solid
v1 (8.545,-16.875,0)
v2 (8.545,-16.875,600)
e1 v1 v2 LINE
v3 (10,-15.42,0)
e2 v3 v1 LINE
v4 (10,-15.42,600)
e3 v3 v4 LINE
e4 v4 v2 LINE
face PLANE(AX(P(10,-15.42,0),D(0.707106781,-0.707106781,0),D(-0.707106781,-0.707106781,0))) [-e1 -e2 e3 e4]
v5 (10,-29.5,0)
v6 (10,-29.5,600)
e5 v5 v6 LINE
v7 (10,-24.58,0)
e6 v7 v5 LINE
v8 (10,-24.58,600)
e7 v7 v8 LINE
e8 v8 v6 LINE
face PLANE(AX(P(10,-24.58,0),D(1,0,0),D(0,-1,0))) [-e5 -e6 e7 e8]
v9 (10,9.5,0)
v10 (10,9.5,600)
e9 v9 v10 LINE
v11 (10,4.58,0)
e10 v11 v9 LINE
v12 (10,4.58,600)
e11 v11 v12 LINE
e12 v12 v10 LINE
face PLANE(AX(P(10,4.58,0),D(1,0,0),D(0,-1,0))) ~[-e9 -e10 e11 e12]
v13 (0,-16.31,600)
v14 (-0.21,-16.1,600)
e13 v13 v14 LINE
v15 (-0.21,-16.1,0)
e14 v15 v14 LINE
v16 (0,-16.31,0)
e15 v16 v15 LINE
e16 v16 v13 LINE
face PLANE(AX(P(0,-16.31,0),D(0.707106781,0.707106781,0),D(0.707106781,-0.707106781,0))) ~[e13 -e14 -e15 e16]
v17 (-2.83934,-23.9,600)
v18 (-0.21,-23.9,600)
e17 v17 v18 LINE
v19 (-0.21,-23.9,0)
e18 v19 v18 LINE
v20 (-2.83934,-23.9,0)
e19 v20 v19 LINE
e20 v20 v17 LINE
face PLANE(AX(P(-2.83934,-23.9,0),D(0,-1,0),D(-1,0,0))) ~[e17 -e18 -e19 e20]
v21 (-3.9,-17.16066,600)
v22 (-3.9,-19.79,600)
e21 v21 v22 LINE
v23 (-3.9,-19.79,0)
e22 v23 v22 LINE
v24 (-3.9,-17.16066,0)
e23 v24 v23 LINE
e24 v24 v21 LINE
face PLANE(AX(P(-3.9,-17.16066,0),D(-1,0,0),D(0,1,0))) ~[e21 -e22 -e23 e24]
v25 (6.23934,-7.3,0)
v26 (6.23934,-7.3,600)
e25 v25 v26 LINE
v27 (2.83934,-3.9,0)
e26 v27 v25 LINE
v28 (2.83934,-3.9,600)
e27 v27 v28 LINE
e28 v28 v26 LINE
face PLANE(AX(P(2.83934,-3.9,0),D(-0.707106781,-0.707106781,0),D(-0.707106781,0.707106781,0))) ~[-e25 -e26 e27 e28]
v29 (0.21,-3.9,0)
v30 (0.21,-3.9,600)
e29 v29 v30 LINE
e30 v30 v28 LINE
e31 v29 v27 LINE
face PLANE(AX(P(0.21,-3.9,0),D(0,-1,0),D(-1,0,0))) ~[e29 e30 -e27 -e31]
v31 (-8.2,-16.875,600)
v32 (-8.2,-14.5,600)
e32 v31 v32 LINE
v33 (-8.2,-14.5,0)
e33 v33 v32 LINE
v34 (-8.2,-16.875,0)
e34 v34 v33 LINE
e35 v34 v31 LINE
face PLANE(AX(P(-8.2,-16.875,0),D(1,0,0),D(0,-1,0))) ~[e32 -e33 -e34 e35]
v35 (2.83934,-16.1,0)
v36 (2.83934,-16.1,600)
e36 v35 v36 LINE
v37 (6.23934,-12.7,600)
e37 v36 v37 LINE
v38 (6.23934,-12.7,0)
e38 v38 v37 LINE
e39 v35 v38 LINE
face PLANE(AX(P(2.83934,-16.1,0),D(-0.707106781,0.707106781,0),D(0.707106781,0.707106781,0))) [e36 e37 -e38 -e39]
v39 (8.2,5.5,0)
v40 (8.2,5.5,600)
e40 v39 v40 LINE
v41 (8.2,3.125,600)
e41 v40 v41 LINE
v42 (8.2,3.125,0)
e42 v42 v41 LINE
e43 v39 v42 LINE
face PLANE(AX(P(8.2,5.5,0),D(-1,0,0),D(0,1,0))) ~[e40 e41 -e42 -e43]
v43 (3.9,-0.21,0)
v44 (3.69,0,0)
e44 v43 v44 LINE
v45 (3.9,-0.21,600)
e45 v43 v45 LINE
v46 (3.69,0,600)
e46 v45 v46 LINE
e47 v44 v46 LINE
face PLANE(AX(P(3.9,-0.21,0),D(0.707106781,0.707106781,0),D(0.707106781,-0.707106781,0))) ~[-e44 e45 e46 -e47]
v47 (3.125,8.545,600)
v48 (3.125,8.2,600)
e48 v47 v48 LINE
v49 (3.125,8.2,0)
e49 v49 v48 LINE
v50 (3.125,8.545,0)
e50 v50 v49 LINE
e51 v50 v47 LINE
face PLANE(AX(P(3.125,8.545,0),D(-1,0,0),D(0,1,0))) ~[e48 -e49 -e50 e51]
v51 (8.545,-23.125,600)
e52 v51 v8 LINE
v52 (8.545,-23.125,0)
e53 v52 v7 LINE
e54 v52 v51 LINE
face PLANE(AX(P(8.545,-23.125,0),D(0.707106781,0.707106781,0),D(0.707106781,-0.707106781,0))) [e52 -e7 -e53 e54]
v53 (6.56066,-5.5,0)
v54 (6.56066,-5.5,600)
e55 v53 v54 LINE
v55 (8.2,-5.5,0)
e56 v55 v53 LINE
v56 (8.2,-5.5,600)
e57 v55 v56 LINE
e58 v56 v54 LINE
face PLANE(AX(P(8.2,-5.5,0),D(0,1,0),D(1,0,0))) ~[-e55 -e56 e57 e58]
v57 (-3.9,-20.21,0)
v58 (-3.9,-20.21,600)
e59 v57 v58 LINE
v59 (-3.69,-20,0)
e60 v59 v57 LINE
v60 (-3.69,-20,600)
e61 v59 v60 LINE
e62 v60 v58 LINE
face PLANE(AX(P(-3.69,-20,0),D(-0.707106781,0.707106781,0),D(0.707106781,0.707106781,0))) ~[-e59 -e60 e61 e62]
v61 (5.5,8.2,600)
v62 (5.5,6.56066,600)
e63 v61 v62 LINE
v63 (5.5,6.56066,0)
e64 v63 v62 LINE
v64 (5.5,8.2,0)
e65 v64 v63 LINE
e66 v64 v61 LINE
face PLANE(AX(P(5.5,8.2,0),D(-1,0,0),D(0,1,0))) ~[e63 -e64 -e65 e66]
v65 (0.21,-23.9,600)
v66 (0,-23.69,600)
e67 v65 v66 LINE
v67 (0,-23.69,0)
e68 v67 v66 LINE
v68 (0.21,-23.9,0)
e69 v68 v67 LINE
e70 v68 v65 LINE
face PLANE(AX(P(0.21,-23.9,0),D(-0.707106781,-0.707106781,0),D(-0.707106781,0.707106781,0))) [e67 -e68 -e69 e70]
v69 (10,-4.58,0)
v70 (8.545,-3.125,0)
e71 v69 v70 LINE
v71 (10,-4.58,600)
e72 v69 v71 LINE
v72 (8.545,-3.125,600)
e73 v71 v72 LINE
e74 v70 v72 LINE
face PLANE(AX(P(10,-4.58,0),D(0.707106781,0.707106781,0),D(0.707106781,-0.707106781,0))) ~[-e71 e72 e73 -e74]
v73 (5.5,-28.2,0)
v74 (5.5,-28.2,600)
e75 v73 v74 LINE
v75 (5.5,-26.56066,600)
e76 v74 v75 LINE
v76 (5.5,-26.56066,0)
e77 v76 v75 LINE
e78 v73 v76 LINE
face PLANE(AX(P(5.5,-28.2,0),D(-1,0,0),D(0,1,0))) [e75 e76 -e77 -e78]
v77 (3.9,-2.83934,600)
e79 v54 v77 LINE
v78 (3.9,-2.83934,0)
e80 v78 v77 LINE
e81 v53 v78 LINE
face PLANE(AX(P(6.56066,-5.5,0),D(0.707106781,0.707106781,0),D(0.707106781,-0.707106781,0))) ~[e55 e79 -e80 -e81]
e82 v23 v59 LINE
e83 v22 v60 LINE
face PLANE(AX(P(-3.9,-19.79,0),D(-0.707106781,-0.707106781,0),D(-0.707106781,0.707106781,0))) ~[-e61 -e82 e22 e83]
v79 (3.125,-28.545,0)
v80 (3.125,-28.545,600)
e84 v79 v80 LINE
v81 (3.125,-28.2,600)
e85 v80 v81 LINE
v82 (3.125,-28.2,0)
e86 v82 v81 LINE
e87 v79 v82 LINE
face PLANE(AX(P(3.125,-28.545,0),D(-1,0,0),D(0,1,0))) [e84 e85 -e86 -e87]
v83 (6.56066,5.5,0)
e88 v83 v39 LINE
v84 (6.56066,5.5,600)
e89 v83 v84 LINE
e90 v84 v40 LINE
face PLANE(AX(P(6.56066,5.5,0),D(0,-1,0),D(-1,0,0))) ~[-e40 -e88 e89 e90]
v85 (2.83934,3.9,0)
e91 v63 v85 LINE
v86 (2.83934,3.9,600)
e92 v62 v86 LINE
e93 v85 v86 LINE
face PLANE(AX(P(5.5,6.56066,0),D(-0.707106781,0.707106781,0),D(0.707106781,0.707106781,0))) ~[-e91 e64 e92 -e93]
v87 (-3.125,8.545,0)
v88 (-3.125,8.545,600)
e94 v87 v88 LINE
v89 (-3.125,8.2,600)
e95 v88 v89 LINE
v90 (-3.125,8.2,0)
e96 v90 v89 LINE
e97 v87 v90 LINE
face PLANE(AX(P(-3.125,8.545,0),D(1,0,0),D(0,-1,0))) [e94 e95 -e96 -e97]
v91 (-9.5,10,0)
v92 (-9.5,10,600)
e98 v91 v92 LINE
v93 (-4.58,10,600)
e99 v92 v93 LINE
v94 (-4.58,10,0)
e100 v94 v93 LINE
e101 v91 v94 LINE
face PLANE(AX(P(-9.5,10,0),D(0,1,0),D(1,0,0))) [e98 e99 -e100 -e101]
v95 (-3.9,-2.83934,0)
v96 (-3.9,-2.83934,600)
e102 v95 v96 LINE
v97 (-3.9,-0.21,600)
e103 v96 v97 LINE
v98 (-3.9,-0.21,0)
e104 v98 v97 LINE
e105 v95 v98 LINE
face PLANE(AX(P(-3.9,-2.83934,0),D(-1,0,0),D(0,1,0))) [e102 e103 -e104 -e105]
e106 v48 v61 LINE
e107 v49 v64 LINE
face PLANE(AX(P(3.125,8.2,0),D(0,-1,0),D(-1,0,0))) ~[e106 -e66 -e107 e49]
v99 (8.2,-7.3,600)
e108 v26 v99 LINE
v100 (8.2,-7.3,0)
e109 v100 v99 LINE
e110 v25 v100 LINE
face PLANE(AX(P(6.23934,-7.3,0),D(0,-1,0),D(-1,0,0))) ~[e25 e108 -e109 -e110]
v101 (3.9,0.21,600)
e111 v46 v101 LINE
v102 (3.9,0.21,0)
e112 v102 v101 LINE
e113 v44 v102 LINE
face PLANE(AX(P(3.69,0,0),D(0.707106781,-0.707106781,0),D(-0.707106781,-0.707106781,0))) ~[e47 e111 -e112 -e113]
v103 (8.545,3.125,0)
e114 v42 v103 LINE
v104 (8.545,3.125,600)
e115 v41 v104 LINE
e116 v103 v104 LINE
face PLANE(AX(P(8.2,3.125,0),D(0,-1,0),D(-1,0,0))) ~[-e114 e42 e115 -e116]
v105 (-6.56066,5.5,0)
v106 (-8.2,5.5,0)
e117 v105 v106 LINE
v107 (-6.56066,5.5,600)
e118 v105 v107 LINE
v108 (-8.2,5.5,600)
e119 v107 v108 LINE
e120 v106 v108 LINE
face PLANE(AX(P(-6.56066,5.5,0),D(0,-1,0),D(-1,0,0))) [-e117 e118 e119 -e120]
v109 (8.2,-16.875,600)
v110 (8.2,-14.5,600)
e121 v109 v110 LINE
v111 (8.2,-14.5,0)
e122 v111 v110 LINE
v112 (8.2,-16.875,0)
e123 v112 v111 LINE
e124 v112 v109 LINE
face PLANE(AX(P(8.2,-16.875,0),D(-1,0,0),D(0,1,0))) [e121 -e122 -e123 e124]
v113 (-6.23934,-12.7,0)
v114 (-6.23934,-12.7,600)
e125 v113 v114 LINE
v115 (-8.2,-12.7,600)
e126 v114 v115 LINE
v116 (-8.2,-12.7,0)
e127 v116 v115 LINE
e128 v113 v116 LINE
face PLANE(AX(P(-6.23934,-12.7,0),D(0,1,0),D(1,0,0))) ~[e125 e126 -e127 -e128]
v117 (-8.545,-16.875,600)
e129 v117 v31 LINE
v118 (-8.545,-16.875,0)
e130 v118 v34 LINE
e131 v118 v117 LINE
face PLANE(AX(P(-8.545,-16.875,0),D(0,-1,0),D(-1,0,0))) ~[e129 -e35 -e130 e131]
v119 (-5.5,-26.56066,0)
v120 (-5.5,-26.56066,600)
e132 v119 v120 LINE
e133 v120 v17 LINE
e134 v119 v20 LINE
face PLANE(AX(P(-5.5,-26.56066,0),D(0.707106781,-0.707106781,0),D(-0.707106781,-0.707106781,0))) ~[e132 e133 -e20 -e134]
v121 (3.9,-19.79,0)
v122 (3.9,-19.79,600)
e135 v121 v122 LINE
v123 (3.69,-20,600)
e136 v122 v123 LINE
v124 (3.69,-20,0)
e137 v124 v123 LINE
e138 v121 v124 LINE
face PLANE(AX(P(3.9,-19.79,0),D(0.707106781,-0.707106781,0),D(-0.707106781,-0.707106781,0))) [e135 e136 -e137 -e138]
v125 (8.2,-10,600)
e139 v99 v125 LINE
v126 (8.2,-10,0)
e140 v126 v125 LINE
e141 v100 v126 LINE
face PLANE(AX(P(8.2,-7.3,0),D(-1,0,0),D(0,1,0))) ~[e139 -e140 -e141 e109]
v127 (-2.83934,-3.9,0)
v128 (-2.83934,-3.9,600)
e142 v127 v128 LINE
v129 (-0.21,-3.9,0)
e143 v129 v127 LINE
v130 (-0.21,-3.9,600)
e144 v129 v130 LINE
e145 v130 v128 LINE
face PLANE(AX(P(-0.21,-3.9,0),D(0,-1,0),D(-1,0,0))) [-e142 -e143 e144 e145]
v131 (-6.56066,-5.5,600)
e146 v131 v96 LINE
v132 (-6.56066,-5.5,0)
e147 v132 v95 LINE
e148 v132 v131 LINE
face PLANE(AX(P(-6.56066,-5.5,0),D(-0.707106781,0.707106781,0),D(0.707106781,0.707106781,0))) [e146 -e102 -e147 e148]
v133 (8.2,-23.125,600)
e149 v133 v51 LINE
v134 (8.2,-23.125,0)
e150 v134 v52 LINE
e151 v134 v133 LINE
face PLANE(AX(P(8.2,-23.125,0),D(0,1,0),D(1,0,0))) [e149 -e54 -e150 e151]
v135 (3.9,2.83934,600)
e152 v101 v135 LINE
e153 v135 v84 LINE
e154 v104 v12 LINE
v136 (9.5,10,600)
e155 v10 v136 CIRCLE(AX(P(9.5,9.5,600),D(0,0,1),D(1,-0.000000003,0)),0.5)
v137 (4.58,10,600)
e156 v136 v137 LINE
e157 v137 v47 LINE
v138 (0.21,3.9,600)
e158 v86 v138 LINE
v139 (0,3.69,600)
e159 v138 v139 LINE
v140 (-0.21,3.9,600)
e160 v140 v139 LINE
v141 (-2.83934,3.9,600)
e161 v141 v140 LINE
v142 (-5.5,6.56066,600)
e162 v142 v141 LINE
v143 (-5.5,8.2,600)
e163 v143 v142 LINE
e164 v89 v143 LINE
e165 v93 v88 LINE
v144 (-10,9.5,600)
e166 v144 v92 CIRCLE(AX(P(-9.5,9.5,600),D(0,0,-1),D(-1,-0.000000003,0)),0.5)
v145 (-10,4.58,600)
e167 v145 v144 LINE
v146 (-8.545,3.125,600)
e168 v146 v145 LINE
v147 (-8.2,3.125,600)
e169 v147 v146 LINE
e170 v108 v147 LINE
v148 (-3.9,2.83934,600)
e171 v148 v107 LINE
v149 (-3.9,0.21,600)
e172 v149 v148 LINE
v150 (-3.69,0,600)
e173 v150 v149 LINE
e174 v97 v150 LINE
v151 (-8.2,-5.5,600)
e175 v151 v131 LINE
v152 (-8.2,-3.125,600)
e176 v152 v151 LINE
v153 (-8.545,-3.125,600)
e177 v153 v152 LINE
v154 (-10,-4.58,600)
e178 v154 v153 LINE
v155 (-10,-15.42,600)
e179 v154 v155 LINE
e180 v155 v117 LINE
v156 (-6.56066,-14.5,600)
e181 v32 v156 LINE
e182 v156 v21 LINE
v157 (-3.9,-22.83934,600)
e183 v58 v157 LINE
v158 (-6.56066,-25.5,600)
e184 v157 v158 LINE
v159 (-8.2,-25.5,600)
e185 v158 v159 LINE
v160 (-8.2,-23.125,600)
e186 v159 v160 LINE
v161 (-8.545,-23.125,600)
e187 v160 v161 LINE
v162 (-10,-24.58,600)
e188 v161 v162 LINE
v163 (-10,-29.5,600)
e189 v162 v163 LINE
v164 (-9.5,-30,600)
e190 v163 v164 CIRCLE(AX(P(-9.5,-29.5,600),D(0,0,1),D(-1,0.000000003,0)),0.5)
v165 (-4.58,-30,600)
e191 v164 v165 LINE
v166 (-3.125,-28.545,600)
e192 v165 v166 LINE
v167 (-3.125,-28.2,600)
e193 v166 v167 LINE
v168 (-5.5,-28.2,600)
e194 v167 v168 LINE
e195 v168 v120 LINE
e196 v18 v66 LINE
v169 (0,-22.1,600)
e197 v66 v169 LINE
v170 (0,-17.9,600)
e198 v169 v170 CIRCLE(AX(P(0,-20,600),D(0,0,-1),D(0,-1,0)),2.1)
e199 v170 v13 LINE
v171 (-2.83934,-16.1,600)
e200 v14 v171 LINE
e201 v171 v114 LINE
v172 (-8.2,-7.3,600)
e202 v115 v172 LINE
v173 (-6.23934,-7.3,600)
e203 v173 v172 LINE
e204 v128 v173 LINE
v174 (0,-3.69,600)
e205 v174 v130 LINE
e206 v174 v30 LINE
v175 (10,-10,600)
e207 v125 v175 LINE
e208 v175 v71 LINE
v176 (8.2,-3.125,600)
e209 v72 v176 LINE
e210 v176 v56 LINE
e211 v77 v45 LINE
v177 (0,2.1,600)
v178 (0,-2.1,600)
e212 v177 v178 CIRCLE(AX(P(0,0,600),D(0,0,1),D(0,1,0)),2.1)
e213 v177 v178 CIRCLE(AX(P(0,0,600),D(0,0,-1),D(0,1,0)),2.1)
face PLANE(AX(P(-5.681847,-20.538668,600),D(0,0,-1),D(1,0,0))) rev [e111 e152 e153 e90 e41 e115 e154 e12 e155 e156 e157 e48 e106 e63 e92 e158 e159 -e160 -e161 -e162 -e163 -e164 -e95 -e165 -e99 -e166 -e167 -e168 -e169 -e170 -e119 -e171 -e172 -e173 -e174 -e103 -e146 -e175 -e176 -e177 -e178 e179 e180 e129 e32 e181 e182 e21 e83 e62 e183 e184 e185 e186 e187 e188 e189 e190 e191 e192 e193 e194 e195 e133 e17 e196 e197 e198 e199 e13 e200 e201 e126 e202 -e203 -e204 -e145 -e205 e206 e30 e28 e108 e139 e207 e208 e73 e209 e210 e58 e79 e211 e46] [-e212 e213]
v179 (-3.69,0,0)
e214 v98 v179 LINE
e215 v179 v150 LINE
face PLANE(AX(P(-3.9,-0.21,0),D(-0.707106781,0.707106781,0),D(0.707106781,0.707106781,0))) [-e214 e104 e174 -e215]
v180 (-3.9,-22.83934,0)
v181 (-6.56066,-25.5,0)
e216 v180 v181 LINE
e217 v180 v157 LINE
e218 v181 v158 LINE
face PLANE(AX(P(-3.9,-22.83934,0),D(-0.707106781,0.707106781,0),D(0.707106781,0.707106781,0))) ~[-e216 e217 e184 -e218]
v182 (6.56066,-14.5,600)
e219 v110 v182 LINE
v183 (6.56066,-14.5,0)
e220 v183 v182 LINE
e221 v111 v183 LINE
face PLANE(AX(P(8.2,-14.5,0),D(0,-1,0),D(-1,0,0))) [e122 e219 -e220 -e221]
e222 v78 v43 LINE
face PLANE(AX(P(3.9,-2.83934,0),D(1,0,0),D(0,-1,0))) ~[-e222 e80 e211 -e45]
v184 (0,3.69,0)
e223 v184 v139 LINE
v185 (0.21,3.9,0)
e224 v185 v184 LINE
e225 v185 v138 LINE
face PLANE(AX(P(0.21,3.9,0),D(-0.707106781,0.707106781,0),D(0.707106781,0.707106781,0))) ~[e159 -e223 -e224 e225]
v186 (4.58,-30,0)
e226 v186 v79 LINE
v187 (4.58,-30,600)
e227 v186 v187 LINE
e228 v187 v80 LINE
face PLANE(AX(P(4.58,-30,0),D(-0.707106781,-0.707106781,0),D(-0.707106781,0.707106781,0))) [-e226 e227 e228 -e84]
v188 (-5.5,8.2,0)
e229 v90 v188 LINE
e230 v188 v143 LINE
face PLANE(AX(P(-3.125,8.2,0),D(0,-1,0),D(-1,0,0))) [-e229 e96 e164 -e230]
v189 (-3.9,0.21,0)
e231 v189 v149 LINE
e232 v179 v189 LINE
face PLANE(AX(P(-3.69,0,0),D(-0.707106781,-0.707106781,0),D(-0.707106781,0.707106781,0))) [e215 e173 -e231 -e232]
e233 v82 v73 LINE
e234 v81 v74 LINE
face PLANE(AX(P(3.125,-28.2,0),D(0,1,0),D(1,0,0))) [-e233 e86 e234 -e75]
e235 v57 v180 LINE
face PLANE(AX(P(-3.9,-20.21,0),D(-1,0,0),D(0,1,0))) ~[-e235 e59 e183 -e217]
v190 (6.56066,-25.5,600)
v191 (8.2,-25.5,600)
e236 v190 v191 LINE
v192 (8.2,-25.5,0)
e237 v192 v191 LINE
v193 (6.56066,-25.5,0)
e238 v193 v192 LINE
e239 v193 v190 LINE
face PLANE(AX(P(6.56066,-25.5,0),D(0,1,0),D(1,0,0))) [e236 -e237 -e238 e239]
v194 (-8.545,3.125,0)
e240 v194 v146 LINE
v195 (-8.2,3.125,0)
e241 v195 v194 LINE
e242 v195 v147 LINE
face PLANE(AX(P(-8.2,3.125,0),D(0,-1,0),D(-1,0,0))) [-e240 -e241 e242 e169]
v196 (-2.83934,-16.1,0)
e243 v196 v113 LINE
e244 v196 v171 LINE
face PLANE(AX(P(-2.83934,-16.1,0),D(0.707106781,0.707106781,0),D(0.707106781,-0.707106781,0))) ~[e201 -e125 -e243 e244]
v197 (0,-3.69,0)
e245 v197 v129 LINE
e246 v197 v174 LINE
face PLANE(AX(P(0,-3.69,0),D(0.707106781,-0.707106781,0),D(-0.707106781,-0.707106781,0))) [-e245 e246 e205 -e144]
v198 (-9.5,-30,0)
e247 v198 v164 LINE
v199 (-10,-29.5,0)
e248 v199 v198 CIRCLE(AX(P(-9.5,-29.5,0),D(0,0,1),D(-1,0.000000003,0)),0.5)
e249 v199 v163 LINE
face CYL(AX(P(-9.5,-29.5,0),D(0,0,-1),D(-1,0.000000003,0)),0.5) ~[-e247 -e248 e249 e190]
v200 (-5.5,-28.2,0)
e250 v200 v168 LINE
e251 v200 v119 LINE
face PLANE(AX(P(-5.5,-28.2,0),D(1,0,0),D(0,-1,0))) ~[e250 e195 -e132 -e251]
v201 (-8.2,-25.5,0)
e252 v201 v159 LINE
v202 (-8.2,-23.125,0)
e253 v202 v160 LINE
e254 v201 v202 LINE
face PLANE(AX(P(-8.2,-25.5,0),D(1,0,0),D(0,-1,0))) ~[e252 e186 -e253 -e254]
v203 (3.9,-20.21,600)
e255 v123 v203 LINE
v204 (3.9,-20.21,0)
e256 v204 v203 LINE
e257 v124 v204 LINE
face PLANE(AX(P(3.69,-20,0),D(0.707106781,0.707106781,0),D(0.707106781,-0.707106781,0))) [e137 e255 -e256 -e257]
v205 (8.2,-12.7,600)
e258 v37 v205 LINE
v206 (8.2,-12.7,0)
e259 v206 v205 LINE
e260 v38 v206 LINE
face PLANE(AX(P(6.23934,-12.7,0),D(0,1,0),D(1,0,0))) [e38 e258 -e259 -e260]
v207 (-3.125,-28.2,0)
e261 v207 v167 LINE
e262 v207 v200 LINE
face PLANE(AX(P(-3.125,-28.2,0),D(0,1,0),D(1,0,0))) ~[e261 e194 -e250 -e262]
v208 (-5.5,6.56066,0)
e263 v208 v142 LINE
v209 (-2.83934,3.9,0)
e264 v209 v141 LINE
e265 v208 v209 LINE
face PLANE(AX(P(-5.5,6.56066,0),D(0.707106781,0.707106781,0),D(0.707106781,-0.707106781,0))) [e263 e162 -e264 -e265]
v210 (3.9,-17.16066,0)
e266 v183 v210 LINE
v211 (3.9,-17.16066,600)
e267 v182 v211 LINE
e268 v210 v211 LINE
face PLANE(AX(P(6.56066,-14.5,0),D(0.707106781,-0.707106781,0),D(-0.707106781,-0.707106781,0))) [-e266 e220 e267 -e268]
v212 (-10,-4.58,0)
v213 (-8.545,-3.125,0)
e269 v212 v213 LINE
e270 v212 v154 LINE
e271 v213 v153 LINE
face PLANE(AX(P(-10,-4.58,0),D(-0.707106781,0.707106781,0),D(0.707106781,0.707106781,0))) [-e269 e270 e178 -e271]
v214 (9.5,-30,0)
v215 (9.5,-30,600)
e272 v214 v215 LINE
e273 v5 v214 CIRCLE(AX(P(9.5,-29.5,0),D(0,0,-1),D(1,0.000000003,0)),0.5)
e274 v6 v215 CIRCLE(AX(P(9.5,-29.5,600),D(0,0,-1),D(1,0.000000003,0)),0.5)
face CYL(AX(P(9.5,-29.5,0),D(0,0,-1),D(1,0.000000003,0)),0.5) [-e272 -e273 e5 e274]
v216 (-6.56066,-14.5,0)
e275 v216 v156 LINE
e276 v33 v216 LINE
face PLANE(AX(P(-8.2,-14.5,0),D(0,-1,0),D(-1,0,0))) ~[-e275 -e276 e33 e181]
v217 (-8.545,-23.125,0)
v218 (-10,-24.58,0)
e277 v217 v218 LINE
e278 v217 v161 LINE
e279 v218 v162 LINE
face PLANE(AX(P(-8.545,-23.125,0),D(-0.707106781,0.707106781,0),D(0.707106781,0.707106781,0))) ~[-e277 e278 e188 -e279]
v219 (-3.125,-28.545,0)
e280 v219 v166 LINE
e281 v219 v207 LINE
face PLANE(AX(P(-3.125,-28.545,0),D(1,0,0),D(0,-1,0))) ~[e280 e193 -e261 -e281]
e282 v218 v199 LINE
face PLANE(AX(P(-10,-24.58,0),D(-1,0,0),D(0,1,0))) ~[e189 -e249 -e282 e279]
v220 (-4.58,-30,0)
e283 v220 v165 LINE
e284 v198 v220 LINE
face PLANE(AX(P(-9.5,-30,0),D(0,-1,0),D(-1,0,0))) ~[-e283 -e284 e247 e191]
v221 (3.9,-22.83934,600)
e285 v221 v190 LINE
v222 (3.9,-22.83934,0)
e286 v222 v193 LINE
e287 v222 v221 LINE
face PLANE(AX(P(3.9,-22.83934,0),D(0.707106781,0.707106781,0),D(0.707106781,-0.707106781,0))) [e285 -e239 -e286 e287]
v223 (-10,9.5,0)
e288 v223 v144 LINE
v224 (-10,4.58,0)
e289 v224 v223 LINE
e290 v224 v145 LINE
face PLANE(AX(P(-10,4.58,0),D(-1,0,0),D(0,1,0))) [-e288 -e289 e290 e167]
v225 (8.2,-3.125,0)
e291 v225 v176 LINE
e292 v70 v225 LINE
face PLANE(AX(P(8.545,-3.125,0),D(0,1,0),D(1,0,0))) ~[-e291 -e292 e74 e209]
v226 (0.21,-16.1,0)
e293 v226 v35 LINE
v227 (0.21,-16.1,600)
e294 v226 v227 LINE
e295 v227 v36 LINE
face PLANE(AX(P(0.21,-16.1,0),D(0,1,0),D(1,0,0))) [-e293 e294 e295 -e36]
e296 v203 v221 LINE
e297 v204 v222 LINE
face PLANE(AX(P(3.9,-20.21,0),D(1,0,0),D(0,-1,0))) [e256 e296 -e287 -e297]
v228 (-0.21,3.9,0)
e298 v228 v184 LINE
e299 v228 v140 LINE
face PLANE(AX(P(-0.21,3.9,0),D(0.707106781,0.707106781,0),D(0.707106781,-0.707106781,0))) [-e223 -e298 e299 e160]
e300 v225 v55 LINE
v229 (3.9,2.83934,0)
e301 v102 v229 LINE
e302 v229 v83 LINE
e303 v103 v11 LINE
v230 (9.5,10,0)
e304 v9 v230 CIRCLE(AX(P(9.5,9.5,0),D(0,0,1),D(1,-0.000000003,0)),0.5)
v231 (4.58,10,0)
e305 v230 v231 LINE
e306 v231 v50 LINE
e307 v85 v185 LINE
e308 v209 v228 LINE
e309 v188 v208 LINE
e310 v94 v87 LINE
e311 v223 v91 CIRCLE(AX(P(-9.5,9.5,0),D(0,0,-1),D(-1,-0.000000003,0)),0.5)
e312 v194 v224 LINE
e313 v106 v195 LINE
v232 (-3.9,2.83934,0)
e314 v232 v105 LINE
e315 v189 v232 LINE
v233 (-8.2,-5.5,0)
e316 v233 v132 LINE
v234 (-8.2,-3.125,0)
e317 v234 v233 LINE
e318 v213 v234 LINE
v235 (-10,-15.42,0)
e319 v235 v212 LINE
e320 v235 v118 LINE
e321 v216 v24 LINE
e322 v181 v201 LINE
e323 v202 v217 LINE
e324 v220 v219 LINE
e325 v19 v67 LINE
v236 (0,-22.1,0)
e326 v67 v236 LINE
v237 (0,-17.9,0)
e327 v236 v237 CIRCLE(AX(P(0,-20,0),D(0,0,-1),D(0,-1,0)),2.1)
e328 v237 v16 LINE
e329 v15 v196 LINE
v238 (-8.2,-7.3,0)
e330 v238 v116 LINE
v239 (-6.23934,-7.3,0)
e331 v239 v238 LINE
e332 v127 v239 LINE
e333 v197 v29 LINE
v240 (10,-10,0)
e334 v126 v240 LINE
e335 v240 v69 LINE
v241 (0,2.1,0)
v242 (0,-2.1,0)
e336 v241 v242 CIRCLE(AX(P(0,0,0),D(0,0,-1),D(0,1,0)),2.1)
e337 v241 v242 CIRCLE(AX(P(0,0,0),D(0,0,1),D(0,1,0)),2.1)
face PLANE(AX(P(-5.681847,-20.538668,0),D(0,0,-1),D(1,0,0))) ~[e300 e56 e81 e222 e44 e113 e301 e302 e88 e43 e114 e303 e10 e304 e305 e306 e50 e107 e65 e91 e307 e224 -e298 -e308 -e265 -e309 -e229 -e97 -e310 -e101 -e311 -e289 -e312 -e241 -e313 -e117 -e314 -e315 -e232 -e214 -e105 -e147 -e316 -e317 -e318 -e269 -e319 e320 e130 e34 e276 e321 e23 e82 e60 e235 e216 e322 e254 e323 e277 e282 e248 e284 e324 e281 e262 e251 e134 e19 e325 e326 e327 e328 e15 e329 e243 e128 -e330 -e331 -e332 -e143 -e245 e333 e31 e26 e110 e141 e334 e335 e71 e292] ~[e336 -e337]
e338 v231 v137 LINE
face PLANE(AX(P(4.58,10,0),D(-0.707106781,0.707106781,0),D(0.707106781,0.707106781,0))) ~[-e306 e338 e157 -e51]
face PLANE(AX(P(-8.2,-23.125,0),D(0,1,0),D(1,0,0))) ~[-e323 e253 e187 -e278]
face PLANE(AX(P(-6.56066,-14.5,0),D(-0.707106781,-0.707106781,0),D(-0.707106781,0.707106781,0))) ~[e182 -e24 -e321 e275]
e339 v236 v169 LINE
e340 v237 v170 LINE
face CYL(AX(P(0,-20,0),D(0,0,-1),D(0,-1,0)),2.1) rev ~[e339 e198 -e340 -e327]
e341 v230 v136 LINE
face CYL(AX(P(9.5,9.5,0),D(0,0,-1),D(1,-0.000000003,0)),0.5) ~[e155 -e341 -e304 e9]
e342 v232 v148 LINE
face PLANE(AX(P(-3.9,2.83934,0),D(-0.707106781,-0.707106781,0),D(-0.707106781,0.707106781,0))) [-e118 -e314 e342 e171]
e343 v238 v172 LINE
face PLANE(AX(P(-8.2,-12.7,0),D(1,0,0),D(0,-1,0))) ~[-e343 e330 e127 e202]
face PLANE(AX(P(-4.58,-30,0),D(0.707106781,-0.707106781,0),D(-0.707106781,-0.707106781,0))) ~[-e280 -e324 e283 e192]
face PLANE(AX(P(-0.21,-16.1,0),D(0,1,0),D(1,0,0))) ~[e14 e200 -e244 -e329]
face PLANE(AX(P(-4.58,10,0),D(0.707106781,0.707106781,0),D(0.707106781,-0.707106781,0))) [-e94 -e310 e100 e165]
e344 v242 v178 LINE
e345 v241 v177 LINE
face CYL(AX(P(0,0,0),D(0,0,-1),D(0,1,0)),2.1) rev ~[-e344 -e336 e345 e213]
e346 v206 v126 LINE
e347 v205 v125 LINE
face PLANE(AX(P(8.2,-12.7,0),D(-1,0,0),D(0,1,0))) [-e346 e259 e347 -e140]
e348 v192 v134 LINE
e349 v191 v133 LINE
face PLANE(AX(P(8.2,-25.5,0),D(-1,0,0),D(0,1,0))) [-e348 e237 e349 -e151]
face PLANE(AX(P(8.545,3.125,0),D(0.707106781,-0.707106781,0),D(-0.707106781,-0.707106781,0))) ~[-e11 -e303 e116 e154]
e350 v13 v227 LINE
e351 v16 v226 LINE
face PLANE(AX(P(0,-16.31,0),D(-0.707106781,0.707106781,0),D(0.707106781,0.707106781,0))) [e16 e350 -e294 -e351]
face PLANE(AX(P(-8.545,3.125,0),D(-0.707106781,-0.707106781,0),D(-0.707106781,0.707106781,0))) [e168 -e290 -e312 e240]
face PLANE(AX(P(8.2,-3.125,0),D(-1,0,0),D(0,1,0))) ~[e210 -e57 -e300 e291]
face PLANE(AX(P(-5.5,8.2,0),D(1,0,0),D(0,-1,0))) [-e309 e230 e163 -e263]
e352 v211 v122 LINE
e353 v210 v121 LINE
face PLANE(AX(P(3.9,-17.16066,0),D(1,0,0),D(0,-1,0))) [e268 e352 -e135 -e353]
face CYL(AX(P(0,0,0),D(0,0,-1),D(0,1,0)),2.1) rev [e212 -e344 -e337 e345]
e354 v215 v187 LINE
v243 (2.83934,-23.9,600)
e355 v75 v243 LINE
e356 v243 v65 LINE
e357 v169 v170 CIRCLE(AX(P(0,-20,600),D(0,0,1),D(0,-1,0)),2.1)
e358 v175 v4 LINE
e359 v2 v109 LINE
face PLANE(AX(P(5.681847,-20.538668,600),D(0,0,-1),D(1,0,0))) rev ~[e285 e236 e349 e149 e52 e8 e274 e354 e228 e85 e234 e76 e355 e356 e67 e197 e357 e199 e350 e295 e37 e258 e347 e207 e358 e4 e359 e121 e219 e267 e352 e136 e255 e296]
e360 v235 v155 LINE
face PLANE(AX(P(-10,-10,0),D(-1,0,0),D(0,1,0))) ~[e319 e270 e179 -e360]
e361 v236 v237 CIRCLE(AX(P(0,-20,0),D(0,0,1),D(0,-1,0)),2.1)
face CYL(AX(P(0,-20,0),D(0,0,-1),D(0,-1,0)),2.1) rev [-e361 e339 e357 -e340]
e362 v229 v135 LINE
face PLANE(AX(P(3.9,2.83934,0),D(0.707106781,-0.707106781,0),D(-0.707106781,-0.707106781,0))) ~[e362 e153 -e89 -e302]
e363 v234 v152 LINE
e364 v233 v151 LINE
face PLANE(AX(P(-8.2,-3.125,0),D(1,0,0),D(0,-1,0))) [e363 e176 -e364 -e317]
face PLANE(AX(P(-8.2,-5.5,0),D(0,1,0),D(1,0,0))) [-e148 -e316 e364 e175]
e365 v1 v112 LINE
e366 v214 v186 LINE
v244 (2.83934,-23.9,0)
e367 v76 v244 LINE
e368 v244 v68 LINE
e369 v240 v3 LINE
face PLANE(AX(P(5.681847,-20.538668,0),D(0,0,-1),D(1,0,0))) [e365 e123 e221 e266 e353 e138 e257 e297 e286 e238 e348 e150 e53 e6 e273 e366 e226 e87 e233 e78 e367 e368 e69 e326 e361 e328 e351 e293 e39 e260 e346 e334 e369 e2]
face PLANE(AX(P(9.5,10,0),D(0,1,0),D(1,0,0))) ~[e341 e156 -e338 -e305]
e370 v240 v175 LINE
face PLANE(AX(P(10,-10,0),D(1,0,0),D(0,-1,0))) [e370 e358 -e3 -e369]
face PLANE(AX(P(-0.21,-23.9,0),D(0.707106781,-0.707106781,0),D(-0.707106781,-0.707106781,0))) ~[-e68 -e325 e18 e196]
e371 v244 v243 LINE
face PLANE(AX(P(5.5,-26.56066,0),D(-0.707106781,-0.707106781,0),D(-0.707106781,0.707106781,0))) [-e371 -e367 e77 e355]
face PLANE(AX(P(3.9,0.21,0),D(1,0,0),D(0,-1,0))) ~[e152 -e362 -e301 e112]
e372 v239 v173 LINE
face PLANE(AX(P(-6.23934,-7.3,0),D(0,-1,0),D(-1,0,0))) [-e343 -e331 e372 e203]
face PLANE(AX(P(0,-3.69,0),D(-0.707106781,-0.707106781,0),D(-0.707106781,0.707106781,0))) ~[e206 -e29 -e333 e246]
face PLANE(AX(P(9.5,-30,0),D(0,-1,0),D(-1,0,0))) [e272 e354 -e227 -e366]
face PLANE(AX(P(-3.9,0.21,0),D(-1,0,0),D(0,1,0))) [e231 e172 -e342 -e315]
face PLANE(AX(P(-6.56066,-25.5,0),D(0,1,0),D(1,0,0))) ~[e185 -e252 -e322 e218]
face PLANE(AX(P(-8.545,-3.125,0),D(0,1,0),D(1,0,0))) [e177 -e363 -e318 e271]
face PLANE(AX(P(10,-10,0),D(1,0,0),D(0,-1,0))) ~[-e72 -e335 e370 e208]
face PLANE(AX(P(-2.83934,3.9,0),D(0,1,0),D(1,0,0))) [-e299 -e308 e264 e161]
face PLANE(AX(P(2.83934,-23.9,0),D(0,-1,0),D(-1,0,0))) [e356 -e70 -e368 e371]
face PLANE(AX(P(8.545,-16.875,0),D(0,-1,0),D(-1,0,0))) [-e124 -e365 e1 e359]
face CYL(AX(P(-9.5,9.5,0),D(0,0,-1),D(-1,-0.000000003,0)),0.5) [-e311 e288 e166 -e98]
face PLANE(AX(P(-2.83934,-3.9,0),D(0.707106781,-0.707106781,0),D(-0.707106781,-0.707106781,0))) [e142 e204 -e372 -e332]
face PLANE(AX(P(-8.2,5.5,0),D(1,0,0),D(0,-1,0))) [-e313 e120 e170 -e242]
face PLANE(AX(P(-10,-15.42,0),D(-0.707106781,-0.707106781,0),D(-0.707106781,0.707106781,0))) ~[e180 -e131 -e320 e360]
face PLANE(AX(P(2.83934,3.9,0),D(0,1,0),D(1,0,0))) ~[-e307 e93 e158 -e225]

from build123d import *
from build123d.topology import SkipClean

# Parameters (mm, degrees)
BOSS_EXTRU_1_DEPTH     = 600
SYM_TRIE6_COPY_1_DEPTH = 600


with BuildPart() as part:
    # Esquisse1 → Boss.-Extru.1 (new body)
    with BuildSketch(Plane.XY):
        with BuildLine():
            Line((-9.5, 10), (-4.58, 10))
            Line((-4.58, 10), (-3.125, 8.545))
            Line((-3.125, 8.545), (-3.125, 8.2))
            Line((-3.125, 8.2), (-5.5, 8.2))
            Line((-5.5, 8.2), (-5.5, 6.560660172))
            Line((-5.5, 6.560660172), (-2.839339828, 3.9))
            Line((-2.839339828, 3.9), (-0.21, 3.9))
            Line((-0.21, 3.9), (0, 3.69))
            Line((0, 3.69), (0, 2.1))
            ThreePointArc((0, 2.1), (-2.1, 0), (0, -2.1))
            Line((0, -2.1), (0, -3.69))
            Line((0, -3.69), (-0.21, -3.9))
            Line((-0.21, -3.9), (-2.839339828, -3.9))
            Line((-2.839339828, -3.9), (-6.239339828, -7.3))
            Line((-6.239339828, -7.3), (-8.2, -7.3))
            Line((-8.2, -7.3), (-8.2, -10))
            Line((-8.2, -10), (-10, -10))
            Line((-10, -10), (-10, -4.58))
            Line((-10, -4.58), (-8.545, -3.125))
            Line((-8.545, -3.125), (-8.2, -3.125))
            Line((-8.2, -3.125), (-8.2, -5.5))
            Line((-8.2, -5.5), (-6.560660172, -5.5))
            Line((-6.560660172, -5.5), (-3.9, -2.839339828))
            Line((-3.9, -2.839339828), (-3.9, -0.21))
            Line((-3.9, -0.21), (-3.69, 0))
            Line((-3.69, 0), (-3.9, 0.21))
            Line((-3.9, 0.21), (-3.9, 2.839339828))
            Line((-3.9, 2.839339828), (-6.560660172, 5.5))
            Line((-6.560660172, 5.5), (-8.2, 5.5))
            Line((-8.2, 5.5), (-8.2, 3.125))
            Line((-8.2, 3.125), (-8.545, 3.125))
            Line((-8.545, 3.125), (-10, 4.58))
            Line((-10, 4.58), (-10, 9.5))
            ThreePointArc((-10, 9.5), (-9.853553391, 9.853553391), (-9.5, 10))
        make_face()
    boss_extru_1 = extrude(amount=BOSS_EXTRU_1_DEPTH)

    # Symétrie1: Boss.-Extru.1 across plane
    add(boss_extru_1.mirror(Plane(origin=(0, 3.69, 600), x_dir=(0, 0, 1), z_dir=(-1, 0, 0))))

    # Symétrie6: Boss.-Extru.1 across plane
    add(boss_extru_1.mirror(Plane(origin=(-8.2, -10, 600), x_dir=(0, 0, 1), z_dir=(0, 1, 0))))

    # Symétrie6 copy 1 sketch → Symétrie6 copy 1 (add)
    with SkipClean():  # the faces are left unmerged after this step: merging them gives an invalid solid
        with BuildSketch(Plane(origin=(0, -20, 0), x_dir=(-1, 0, 0), z_dir=(0, 0, 1))):
            with BuildLine():
                Line((-9.5, 10), (-4.58, 10))
                Line((-4.58, 10), (-3.125, 8.545))
                Line((-3.125, 8.545), (-3.125, 8.2))
                Line((-3.125, 8.2), (-5.5, 8.2))
                Line((-5.5, 8.2), (-5.5, 6.560660172))
                Line((-5.5, 6.560660172), (-2.839339828, 3.9))
                Line((-2.839339828, 3.9), (-0.21, 3.9))
                Line((-0.21, 3.9), (0, 3.69))
                Line((0, 3.69), (0, 2.1))
                ThreePointArc((0, 2.1), (-2.1, 0), (0, -2.1))
                Line((0, -2.1), (0, -3.69))
                Line((0, -3.69), (-0.21, -3.9))
                Line((-0.21, -3.9), (-2.839339828, -3.9))
                Line((-2.839339828, -3.9), (-6.239339828, -7.3))
                Line((-6.239339828, -7.3), (-8.2, -7.3))
                Line((-8.2, -7.3), (-8.2, -10))
                Line((-8.2, -10), (-10, -10))
                Line((-10, -10), (-10, -4.58))
                Line((-10, -4.58), (-8.545, -3.125))
                Line((-8.545, -3.125), (-8.2, -3.125))
                Line((-8.2, -3.125), (-8.2, -5.5))
                Line((-8.2, -5.5), (-6.560660172, -5.5))
                Line((-6.560660172, -5.5), (-3.9, -2.839339828))
                Line((-3.9, -2.839339828), (-3.9, -0.21))
                Line((-3.9, -0.21), (-3.69, 0))
                Line((-3.69, 0), (-3.9, 0.21))
                Line((-3.9, 0.21), (-3.9, 2.839339828))
                Line((-3.9, 2.839339828), (-6.560660172, 5.5))
                Line((-6.560660172, 5.5), (-8.2, 5.5))
                Line((-8.2, 5.5), (-8.2, 3.125))
                Line((-8.2, 3.125), (-8.545, 3.125))
                Line((-8.545, 3.125), (-10, 4.58))
                Line((-10, 4.58), (-10, 9.5))
                ThreePointArc((-10, 9.5), (-9.853553391, 9.853553391), (-9.5, 10))
            make_face()
        extrude(amount=SYM_TRIE6_COPY_1_DEPTH)


solid = part.part
